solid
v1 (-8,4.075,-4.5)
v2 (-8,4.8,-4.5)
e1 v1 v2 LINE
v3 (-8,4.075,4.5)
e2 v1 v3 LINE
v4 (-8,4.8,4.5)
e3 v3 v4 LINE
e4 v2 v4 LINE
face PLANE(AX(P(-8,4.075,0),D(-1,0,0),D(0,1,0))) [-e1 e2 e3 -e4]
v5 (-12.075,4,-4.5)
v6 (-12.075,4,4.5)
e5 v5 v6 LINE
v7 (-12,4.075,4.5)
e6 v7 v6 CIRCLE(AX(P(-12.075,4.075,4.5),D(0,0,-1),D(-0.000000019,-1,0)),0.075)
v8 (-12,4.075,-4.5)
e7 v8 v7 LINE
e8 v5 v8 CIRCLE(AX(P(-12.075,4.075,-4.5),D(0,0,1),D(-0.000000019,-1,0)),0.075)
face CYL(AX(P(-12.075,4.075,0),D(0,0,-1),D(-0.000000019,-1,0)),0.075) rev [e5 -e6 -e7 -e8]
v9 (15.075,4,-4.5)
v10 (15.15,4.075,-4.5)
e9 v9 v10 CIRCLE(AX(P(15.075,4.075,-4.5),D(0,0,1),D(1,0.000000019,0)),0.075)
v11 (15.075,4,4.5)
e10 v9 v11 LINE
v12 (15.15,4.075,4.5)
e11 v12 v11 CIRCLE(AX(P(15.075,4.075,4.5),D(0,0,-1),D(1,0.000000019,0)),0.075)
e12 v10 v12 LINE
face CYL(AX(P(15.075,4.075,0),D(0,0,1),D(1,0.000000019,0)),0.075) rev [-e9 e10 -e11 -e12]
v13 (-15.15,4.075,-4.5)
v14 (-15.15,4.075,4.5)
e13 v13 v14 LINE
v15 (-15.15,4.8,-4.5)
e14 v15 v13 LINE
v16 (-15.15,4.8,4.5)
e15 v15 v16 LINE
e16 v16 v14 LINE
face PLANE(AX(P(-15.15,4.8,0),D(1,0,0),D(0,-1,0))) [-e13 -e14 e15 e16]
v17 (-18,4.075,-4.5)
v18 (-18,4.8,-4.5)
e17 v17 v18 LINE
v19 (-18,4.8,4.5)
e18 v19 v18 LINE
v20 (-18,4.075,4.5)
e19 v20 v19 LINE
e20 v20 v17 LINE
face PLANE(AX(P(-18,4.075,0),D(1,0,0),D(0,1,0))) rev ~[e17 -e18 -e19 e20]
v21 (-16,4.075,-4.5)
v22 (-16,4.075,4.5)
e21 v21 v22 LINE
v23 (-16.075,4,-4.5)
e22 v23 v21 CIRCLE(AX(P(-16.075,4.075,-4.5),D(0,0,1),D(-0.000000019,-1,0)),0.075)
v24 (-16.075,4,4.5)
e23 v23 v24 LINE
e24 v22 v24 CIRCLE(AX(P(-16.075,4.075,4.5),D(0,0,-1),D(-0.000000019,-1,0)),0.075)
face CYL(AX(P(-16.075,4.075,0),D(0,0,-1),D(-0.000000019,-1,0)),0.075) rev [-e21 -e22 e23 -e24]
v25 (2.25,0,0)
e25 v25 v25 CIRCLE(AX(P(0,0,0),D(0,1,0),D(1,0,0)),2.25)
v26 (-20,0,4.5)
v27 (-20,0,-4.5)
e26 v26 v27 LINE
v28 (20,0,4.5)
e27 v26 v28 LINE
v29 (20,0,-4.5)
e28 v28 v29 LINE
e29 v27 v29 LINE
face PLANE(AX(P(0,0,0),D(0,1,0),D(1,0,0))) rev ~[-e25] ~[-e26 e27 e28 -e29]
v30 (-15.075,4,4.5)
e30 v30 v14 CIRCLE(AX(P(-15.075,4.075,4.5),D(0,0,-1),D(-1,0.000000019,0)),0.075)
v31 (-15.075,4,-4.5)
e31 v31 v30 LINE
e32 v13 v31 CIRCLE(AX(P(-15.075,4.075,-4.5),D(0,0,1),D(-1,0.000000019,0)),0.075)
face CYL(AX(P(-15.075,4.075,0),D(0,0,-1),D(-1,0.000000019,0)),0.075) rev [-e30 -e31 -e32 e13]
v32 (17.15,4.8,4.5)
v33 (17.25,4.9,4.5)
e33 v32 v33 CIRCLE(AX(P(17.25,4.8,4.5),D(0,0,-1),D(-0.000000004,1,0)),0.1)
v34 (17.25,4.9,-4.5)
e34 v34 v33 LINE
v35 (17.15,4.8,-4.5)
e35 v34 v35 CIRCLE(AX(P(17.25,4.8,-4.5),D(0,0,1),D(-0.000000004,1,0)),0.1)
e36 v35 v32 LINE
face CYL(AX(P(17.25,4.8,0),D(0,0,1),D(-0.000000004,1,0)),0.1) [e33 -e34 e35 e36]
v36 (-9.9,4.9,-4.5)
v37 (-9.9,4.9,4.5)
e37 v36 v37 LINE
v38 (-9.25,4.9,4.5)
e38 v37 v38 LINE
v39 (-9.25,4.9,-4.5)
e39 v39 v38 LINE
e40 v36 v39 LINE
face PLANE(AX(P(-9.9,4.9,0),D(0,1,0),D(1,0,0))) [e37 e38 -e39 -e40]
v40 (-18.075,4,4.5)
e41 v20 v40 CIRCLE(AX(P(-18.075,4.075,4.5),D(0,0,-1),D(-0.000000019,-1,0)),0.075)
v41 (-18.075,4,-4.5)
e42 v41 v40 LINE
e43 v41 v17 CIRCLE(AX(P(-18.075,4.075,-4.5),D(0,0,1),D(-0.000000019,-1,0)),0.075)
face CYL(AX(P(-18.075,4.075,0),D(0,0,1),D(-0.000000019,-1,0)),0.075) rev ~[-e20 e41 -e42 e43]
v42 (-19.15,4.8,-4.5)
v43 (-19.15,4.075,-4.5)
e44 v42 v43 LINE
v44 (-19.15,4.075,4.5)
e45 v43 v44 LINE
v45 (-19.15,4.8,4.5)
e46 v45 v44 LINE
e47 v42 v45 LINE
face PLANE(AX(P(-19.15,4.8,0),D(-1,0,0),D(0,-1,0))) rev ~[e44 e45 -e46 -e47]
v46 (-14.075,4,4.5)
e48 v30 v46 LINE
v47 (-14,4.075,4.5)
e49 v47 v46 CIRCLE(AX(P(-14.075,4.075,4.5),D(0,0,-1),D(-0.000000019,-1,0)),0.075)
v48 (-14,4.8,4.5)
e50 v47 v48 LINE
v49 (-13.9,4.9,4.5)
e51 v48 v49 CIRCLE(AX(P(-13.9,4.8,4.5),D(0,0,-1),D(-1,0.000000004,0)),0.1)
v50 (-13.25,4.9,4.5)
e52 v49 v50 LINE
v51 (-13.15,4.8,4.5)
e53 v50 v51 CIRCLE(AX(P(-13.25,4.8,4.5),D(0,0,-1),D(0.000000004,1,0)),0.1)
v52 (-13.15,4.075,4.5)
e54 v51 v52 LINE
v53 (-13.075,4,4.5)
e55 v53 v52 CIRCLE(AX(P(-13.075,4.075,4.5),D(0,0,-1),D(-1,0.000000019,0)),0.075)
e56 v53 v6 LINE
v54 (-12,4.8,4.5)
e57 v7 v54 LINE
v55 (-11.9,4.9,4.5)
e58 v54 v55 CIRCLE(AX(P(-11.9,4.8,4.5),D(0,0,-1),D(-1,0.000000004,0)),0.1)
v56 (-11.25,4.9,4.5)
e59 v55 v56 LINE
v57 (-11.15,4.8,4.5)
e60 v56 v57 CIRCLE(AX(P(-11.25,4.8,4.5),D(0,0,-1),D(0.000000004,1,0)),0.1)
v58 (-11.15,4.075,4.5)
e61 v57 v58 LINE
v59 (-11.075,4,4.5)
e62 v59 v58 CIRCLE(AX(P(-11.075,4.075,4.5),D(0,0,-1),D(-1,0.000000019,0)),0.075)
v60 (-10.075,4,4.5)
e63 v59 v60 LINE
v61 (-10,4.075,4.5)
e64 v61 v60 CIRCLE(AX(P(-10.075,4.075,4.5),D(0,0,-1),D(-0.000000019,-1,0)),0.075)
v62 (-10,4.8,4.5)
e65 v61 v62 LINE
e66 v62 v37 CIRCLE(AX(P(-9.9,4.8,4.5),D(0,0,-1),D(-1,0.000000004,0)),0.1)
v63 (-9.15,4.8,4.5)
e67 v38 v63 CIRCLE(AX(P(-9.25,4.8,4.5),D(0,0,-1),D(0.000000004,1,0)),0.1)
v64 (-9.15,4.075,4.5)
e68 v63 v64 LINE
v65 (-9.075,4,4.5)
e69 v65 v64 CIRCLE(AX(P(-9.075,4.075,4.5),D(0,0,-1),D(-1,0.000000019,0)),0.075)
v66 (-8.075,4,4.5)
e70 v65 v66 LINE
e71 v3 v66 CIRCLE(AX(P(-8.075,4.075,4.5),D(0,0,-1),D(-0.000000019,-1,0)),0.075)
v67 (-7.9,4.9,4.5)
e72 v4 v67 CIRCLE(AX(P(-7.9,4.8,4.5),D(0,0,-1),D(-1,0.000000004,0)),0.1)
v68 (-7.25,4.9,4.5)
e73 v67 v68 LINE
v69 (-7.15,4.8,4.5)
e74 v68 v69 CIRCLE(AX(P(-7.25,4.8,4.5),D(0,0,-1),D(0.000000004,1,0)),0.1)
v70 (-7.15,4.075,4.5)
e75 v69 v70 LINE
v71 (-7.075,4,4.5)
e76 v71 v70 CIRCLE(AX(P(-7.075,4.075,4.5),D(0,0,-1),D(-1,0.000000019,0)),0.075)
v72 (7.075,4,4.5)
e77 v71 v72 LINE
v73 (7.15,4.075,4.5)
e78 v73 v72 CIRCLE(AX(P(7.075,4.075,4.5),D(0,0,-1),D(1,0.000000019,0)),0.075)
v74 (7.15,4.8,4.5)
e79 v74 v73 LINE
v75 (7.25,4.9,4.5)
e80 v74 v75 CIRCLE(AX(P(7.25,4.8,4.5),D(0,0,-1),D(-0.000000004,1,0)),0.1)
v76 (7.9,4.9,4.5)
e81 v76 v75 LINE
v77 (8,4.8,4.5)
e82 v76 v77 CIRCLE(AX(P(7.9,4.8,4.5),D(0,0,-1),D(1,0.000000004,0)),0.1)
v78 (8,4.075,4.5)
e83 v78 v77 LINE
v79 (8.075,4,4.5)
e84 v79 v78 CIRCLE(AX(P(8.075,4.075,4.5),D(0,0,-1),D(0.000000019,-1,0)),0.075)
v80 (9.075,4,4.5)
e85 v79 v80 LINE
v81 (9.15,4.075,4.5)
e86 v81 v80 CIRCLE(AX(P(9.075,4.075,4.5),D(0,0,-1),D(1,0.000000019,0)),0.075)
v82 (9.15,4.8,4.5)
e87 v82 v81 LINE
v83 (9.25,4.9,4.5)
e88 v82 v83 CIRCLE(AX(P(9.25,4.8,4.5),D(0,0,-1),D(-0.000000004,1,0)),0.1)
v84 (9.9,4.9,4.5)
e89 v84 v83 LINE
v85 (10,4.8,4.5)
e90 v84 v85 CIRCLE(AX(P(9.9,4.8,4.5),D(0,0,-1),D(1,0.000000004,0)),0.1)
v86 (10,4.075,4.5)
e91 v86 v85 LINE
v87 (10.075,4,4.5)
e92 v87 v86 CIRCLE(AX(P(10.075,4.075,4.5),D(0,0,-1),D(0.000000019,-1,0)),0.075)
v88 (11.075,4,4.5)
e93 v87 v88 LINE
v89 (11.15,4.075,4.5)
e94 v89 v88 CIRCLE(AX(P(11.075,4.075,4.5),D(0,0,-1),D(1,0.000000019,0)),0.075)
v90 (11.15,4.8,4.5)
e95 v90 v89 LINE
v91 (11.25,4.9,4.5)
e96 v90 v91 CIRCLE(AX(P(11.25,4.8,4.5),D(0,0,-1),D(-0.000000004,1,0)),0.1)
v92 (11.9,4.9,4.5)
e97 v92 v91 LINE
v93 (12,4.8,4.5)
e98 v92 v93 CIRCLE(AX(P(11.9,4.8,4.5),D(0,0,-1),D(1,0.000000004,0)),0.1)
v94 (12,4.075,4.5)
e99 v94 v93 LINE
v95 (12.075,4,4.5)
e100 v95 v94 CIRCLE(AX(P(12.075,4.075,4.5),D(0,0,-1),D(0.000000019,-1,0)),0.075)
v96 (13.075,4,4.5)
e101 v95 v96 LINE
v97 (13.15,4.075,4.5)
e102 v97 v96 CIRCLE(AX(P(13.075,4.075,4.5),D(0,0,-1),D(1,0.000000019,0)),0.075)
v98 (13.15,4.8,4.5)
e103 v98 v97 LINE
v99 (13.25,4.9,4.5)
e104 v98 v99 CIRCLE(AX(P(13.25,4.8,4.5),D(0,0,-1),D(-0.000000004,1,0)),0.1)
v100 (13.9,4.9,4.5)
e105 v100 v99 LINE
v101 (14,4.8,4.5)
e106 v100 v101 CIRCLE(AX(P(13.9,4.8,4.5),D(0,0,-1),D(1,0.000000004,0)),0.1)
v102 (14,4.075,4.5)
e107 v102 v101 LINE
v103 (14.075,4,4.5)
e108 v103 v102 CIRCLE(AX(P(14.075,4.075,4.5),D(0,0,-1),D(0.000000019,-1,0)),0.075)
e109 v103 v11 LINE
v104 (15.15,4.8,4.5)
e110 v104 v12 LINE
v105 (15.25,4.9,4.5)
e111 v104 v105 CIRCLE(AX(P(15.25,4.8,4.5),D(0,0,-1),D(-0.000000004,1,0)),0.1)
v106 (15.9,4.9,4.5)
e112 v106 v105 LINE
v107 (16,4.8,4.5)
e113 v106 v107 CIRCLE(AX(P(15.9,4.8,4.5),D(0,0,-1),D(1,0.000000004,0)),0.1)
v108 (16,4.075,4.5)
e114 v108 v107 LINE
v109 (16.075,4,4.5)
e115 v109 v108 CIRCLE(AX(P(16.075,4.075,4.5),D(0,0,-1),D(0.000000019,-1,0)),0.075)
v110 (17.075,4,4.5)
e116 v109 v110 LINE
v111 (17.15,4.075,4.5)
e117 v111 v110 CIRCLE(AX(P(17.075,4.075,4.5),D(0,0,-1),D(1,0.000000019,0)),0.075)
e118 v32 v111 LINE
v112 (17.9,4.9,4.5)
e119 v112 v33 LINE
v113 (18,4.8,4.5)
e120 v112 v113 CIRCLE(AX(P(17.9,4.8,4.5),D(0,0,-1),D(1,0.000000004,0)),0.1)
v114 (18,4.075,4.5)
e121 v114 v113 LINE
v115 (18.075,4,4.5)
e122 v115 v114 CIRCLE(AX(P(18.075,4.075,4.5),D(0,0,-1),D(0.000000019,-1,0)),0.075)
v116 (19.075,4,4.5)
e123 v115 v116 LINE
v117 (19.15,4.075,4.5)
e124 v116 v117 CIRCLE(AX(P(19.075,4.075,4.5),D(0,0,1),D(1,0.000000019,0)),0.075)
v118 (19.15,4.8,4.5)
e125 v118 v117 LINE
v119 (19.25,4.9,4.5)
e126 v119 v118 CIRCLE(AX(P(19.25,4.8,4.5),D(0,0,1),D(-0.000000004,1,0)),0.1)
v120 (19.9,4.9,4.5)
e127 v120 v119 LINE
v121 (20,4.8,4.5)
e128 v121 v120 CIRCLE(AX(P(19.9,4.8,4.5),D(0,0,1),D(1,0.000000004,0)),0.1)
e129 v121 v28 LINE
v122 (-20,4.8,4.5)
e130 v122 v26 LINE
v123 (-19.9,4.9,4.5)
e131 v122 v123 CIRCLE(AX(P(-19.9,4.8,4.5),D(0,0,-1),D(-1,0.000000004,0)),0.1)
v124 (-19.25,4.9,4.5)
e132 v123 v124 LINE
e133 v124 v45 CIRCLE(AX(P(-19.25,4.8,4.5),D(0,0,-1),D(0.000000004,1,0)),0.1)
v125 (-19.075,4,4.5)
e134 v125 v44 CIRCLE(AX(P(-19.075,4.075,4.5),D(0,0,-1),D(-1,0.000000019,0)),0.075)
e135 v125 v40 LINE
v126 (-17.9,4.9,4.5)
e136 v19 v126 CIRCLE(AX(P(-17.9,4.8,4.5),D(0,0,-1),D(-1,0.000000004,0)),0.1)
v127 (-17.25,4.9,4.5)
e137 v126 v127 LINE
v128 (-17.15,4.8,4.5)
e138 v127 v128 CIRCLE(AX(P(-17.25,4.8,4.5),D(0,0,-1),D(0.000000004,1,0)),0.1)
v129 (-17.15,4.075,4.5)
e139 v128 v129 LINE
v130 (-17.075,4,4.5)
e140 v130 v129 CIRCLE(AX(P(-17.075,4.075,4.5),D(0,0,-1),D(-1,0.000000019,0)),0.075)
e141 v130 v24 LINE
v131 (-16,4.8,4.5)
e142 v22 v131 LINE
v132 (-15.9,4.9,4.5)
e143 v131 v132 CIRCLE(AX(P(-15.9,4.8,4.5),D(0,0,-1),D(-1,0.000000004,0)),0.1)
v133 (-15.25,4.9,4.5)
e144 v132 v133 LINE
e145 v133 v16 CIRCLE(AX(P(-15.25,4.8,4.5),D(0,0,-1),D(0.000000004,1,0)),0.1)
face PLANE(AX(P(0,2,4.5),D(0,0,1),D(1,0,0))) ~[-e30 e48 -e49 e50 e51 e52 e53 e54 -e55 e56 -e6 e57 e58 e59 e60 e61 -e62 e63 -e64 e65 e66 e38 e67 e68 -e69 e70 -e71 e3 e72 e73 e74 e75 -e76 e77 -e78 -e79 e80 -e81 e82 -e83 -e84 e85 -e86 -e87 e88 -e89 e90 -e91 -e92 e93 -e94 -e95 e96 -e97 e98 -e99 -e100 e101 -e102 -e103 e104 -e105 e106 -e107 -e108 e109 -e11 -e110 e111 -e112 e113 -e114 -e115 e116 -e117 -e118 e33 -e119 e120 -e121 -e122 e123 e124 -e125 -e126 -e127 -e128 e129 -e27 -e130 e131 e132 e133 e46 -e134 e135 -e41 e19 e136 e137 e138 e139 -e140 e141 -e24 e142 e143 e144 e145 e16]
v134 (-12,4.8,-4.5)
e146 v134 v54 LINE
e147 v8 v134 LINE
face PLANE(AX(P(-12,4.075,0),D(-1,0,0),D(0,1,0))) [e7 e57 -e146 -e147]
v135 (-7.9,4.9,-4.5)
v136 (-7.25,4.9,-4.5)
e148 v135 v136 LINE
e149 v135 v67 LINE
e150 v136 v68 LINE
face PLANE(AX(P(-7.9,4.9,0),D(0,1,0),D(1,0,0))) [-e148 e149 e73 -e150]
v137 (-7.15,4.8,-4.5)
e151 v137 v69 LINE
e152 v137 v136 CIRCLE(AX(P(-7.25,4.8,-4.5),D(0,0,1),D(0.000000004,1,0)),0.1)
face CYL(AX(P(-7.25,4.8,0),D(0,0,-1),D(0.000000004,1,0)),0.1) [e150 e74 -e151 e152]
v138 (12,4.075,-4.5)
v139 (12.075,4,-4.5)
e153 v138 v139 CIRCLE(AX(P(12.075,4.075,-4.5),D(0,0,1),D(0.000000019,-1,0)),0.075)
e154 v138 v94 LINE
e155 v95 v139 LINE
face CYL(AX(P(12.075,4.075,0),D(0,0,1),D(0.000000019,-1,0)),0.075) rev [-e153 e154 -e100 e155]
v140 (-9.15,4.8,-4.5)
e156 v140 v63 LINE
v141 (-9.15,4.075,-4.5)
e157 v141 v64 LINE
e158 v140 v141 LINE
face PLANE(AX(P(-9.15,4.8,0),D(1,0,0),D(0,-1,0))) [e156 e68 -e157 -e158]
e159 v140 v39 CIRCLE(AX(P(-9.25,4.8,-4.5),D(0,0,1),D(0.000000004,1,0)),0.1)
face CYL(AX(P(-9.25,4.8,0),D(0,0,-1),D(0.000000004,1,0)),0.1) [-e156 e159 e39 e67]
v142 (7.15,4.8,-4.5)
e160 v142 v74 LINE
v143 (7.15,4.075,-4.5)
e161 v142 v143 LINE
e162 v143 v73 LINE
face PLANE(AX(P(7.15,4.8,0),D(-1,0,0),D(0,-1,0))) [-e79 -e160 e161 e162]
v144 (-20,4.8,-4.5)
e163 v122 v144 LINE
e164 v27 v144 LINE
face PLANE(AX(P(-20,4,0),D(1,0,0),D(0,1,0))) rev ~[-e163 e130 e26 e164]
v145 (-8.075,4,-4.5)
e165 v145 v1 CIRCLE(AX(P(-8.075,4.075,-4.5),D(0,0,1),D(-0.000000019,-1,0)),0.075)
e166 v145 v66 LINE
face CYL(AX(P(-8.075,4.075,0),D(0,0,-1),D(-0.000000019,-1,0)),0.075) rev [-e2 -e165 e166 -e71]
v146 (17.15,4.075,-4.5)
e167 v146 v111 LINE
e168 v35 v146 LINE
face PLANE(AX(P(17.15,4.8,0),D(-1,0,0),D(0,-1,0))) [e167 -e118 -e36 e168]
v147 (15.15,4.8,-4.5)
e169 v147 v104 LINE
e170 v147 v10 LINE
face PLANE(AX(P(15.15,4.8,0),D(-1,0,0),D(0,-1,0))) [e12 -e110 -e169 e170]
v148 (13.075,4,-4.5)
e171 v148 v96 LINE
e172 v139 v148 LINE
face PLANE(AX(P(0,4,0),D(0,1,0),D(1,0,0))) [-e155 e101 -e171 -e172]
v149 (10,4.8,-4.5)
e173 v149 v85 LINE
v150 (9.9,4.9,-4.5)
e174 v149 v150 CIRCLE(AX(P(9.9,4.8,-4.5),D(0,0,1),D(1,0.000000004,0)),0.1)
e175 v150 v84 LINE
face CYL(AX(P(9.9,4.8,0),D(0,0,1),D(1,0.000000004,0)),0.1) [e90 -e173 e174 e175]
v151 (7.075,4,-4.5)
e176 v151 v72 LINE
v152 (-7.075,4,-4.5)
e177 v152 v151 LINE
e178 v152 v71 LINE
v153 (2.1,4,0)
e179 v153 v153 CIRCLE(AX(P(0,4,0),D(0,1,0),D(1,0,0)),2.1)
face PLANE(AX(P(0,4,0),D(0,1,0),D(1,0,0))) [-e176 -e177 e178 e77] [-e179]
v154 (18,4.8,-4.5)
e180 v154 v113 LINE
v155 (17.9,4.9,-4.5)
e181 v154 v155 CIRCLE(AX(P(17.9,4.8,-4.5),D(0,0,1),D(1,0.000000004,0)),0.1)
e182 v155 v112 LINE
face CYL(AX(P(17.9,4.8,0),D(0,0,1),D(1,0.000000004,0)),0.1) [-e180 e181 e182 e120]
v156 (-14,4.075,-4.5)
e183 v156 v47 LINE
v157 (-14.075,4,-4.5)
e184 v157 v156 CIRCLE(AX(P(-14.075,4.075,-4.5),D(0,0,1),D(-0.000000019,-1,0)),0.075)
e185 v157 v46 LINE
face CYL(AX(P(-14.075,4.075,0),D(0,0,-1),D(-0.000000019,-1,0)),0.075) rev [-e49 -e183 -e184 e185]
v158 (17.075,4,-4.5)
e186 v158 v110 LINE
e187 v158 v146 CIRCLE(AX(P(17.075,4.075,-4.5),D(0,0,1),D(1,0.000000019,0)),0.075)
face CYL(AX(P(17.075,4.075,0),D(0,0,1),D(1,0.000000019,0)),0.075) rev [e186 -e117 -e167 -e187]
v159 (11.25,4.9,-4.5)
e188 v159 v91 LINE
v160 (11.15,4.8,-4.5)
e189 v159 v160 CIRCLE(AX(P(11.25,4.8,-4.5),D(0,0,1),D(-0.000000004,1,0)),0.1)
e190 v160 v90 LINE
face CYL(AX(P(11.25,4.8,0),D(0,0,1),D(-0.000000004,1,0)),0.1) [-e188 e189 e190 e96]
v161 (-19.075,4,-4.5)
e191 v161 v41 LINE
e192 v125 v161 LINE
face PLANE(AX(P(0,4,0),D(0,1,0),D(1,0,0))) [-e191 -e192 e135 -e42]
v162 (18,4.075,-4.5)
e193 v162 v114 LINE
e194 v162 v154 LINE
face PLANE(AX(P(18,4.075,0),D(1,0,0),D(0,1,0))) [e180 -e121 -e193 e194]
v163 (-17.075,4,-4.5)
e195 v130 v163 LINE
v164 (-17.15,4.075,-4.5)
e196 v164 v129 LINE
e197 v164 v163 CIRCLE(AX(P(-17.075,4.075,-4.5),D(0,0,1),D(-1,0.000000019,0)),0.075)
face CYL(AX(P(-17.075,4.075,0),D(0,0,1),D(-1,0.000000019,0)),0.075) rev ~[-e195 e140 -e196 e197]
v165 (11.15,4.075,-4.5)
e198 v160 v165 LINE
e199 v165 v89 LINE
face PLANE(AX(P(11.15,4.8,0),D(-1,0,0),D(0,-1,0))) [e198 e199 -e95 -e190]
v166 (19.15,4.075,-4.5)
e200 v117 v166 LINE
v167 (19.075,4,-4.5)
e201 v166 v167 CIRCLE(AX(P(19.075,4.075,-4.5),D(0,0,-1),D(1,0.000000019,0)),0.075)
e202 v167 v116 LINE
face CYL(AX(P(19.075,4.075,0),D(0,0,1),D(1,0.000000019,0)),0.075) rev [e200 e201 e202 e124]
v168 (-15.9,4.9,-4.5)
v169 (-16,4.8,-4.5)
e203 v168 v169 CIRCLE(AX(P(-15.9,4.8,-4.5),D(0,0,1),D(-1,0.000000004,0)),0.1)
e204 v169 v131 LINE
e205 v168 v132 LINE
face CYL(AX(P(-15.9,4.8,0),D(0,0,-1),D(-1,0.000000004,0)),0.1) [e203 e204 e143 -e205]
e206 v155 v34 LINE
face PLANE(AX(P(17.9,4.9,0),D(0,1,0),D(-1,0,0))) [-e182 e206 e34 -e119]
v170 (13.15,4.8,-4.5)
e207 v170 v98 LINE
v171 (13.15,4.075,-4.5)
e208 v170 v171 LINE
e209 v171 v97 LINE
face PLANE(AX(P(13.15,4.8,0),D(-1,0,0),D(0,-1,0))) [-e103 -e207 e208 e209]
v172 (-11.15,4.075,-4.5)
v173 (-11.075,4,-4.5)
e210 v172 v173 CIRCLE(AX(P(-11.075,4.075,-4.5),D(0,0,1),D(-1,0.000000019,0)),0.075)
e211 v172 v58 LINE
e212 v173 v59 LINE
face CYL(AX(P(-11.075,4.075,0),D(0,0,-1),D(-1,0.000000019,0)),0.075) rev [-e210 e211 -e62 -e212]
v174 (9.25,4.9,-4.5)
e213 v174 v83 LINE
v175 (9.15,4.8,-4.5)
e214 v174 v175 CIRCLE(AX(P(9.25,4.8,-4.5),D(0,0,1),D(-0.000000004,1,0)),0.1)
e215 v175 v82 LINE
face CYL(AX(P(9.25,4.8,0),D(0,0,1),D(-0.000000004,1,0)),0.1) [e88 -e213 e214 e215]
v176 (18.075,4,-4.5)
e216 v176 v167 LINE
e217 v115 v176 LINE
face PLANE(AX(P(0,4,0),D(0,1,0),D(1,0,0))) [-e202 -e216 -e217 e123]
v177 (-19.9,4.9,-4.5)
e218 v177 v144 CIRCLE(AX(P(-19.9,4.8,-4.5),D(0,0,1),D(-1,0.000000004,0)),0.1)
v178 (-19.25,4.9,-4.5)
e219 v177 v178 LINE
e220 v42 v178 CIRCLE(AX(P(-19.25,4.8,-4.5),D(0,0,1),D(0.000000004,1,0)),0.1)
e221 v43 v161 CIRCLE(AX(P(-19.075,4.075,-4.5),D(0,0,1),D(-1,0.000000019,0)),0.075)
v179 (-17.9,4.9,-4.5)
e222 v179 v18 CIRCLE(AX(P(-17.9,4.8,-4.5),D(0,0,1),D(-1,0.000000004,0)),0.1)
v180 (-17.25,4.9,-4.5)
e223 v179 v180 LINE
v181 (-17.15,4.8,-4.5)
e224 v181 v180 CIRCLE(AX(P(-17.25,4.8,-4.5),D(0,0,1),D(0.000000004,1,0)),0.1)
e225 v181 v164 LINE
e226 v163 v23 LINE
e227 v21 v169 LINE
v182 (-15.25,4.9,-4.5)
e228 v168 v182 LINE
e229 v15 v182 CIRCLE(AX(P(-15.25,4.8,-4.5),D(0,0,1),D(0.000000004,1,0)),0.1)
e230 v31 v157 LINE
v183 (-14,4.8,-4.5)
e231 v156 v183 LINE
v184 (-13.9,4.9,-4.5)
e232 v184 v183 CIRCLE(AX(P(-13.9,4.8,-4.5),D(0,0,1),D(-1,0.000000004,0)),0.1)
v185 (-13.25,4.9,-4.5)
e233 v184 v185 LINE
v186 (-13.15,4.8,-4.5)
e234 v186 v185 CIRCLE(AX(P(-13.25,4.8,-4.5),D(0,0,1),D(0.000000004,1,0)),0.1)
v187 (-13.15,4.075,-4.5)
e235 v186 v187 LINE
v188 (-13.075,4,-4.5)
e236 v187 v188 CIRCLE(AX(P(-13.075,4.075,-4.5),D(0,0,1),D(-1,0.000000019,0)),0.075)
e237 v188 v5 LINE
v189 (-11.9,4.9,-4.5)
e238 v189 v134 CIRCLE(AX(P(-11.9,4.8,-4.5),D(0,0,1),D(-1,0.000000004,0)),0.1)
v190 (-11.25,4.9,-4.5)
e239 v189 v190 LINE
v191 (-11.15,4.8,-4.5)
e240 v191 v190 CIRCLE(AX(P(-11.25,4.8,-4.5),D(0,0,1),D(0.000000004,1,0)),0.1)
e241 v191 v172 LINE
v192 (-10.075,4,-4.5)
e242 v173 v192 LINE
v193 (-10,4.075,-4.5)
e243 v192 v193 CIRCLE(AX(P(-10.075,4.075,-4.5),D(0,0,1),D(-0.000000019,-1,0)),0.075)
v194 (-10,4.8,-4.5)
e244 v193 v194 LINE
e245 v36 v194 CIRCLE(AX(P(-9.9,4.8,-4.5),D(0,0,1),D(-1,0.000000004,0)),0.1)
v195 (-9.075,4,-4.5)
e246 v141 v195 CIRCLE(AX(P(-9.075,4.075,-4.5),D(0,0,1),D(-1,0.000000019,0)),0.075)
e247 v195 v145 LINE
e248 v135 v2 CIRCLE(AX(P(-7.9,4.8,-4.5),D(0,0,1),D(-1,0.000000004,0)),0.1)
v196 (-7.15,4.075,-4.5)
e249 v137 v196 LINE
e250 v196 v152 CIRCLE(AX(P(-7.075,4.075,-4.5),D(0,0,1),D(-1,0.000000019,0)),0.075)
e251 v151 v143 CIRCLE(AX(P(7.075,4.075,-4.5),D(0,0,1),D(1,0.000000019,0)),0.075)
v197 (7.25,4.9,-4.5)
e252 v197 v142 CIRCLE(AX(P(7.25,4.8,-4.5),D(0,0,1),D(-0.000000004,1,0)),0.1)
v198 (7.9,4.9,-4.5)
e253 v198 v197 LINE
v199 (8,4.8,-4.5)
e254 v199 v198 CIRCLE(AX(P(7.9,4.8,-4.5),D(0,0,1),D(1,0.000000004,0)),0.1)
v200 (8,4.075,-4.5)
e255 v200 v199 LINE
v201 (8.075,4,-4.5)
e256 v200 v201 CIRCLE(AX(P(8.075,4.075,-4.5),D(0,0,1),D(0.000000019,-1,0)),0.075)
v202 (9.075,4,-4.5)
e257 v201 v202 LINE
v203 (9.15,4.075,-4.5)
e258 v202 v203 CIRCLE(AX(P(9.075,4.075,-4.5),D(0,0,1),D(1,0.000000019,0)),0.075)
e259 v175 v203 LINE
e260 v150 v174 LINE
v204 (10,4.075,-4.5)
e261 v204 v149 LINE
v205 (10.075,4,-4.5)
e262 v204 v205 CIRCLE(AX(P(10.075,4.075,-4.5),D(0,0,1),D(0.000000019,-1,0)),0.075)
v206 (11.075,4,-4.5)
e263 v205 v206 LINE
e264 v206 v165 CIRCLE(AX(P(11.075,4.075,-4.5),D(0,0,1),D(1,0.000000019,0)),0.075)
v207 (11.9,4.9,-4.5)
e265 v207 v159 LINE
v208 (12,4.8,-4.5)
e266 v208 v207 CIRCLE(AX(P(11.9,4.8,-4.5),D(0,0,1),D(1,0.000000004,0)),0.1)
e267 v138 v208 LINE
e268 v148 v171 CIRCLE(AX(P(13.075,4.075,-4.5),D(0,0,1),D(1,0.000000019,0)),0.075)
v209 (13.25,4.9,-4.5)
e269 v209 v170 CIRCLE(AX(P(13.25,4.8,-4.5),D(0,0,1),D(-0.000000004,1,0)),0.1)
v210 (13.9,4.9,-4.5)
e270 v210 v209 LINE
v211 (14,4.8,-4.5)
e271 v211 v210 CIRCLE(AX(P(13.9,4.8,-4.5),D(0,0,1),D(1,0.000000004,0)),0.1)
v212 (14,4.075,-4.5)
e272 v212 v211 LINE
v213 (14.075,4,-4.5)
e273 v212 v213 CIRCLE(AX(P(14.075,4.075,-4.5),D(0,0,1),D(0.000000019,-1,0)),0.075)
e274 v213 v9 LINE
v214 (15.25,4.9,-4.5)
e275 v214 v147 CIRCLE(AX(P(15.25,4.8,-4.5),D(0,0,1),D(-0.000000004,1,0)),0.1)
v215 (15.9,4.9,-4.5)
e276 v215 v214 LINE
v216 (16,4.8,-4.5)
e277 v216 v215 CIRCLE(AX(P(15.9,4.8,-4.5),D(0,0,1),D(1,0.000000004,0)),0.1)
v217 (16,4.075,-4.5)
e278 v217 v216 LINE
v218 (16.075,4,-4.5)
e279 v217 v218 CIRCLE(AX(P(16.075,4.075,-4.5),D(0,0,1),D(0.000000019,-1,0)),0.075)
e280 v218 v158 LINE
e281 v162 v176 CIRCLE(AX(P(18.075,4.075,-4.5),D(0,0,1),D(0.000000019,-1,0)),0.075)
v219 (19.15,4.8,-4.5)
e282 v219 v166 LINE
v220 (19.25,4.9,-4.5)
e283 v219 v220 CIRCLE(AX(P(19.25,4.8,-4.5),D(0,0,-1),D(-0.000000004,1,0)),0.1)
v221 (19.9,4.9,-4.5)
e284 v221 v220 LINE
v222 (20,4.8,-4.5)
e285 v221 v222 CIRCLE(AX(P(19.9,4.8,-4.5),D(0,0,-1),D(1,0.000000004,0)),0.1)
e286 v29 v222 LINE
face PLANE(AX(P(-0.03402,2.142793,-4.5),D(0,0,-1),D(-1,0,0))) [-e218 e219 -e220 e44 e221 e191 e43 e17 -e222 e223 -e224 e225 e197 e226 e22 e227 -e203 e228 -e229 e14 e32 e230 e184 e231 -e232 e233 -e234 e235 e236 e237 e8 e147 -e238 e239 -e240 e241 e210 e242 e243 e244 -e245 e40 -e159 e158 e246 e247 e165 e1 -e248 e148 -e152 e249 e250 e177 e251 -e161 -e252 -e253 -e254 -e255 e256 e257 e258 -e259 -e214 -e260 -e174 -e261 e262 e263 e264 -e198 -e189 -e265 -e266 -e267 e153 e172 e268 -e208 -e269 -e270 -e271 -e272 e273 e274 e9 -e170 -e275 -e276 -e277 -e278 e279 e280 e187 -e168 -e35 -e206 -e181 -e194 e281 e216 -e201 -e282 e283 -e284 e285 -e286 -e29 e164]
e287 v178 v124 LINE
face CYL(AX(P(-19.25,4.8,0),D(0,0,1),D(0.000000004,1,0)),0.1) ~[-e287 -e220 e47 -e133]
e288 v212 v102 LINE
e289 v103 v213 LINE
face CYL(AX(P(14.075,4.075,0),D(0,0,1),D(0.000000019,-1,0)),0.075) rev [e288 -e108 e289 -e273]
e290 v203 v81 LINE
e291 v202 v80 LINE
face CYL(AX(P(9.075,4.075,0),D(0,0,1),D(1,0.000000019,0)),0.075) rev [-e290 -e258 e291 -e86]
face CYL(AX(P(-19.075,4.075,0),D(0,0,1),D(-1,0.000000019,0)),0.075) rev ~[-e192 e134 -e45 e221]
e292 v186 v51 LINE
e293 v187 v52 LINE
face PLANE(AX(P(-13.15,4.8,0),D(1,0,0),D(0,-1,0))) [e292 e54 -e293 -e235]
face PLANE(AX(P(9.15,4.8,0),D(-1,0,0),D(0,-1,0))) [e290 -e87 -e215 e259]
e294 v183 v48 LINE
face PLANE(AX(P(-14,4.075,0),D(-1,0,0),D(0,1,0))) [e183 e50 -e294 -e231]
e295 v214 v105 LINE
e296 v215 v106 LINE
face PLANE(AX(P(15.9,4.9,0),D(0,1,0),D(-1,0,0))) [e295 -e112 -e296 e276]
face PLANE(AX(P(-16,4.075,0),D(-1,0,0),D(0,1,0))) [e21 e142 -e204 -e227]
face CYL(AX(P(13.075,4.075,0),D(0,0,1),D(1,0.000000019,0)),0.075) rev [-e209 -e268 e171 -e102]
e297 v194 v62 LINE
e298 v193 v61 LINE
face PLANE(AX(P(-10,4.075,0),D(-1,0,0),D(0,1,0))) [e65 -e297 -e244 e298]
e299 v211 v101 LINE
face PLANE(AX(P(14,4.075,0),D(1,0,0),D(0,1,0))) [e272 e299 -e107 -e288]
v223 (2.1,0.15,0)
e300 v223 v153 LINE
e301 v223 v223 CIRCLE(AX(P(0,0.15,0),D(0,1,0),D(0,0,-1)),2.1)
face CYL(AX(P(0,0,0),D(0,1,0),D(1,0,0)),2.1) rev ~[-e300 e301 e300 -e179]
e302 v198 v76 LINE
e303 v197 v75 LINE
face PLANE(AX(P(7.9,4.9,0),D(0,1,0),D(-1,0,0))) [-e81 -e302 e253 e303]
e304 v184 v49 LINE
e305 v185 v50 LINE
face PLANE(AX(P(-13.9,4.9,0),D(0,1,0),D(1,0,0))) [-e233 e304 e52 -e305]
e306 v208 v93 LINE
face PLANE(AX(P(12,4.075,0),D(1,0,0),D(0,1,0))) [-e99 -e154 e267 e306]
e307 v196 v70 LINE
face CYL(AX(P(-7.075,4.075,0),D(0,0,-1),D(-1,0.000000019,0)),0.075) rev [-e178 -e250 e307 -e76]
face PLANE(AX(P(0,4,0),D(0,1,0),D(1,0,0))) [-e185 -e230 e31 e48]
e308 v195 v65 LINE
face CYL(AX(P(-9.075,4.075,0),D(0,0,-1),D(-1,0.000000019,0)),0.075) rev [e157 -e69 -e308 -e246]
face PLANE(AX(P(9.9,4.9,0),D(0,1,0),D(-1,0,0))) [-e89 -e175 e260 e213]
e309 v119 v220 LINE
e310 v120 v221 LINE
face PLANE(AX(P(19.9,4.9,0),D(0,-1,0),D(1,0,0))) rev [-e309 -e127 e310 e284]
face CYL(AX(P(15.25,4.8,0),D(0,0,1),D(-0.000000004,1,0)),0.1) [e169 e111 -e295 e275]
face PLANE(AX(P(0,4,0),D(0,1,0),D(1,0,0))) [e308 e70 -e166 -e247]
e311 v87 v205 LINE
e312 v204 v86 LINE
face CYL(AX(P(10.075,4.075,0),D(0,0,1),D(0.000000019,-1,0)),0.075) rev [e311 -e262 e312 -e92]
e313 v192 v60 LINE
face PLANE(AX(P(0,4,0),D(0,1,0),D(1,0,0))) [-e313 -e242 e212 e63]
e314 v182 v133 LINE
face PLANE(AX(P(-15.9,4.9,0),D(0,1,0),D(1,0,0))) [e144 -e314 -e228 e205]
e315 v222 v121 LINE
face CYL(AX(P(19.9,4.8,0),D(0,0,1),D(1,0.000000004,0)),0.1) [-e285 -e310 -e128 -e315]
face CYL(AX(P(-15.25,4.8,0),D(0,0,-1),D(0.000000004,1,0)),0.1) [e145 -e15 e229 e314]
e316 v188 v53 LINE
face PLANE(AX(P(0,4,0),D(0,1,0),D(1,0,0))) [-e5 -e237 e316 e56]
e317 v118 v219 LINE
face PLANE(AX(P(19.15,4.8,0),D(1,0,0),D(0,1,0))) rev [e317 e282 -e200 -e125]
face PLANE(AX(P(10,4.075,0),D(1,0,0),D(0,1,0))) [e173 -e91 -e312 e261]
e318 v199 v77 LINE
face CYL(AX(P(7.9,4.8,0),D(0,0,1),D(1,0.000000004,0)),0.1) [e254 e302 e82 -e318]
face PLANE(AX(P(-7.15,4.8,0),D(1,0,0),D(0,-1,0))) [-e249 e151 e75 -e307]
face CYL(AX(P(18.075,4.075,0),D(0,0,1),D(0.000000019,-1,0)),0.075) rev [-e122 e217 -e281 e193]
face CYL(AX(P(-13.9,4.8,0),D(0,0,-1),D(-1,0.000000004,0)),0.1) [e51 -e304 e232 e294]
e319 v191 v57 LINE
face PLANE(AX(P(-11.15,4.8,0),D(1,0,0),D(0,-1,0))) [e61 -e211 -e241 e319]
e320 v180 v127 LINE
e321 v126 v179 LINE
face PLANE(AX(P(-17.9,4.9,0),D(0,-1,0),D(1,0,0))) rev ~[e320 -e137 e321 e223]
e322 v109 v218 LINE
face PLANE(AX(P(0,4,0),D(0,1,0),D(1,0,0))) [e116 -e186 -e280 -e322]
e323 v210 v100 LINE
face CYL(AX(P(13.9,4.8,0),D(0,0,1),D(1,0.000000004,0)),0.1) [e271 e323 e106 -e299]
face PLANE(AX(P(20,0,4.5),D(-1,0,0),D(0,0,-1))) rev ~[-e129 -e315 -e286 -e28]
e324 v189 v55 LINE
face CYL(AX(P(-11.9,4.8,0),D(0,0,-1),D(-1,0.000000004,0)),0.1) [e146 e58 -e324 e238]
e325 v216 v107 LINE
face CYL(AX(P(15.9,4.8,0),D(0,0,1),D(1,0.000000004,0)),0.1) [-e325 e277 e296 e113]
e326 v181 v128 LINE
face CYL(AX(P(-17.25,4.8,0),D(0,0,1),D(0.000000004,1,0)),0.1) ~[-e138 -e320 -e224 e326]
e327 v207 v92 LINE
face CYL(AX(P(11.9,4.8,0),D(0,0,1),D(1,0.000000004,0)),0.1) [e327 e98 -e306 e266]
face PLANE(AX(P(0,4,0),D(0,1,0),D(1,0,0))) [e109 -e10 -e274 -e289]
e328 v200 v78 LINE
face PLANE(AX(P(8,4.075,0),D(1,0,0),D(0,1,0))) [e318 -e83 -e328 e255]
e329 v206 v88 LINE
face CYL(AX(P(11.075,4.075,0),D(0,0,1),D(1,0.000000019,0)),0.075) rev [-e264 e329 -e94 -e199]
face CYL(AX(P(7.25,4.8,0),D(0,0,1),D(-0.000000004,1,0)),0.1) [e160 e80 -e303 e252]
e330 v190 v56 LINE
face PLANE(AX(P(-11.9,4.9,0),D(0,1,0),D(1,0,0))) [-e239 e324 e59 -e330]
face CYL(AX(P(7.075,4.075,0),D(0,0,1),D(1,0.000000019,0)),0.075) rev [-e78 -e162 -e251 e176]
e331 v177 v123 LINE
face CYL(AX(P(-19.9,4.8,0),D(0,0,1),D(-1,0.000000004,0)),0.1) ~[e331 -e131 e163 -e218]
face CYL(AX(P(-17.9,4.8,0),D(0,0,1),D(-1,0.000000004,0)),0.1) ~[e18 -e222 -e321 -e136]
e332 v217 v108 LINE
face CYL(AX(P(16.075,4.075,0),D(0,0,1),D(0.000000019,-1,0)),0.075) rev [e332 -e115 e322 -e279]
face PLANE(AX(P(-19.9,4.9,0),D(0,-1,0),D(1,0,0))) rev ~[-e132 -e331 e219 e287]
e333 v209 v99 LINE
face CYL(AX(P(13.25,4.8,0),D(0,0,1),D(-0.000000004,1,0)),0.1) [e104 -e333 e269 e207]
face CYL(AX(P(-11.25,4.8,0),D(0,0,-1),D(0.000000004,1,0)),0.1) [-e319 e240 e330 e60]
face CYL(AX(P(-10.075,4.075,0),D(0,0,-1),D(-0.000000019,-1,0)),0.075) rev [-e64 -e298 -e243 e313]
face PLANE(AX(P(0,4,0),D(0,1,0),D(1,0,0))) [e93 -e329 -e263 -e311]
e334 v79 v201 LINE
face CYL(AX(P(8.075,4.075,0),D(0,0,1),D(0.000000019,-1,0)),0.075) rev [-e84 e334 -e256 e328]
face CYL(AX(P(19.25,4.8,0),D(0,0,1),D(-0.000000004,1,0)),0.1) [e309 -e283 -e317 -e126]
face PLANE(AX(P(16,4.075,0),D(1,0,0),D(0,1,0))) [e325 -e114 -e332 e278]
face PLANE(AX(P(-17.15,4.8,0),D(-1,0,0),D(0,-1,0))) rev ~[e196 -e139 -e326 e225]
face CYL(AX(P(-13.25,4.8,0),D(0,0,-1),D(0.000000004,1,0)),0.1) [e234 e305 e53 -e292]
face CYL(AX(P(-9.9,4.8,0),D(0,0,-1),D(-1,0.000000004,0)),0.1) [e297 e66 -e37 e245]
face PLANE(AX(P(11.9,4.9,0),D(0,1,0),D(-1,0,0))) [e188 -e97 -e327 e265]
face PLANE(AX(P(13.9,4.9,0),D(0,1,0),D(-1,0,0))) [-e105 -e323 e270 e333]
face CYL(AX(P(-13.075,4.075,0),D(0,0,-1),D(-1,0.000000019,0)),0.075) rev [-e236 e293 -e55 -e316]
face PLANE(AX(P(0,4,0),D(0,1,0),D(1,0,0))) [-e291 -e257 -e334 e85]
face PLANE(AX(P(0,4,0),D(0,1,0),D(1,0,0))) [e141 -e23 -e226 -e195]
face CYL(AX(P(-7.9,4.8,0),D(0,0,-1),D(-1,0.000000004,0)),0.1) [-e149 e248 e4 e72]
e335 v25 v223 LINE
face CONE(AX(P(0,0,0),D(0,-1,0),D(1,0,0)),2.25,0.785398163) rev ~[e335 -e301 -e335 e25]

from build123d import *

# Parameters (mm, degrees)
BASES_W                                = 40
BASES_H                                = 9
BASE_DEPTH                             = 4
TOOTHPROFILENESTWALL_REACH             = 22.887
TOOTHPROFILENESTWALL_DIRECTION_2_REACH = 22.887
TPNWLP_COUNT                           = 7
TPNWLP_PITCH                           = 2
TPFILLETCUTS_W                         = 0.075
TPFILLETCUTS_H                         = 0.075
TPFILLETCUT_DEPTH                      = 22.148655395
TPNWSETHM_COPY_1_REACH                 = 22.887
TPNWSETHM_COPY_2_REACH                 = 22.887
TPNWSETHM_COPY_3_REACH                 = 22.887
TPNWSETHM_COPY_4_REACH                 = 22.887
TPNWSETHM_COPY_5_REACH                 = 22.887
TPNWSETHM_COPY_6_REACH                 = 22.887
TPNWSETHM_COPY_7_REACH                 = 22.887
TPNWSETHM_COPY_8_REACH                 = 22.887
TPNWSETHM_COPY_9_REACH                 = 22.887
TPNWSETHM_COPY_10_REACH                = 22.887
TPNWSETHM_COPY_11_REACH                = 22.887
TPNWSETHM_COPY_12_REACH                = 22.887
M4_CLEARANCE_HOLE1_D                   = 4.2
M4_CLEARANCE_HOLE1_CSINK_D             = 4.5
M4_CLEARANCE_HOLE1_CSINK_ANGLE         = 90


with BuildPart() as part:
    # BaseS → Base (new body)
    with BuildSketch(Plane(origin=(0, 0, 0), x_dir=(1, 0, 0), z_dir=(0, 1, 0))):
        Rectangle(BASES_W, BASES_H)
    extrude(amount=BASE_DEPTH)

    # ToothProfileNestWall: up to this face of the body (flat: up to its plane)
    toothprofilenestwall_end = Plane(part.part.faces().sort_by_distance((0, 2, 4.5))[0])
    # ToothProfileNestWallS → ToothProfileNestWall (add, up to the picked face)
    with BuildSketch(Plane.XY, mode=Mode.PRIVATE) as toothprofilenestwall_sk1:
        with BuildLine():
            Line((-19.075, 4), (-20.075, 4))
            ThreePointArc((-20.075, 4), (-20.021966991, 4.021966991), (-20, 4.075))
            Line((-20, 4.075), (-20, 4.8))
            ThreePointArc((-20, 4.8), (-19.970710678, 4.870710678), (-19.9, 4.9))
            Line((-19.9, 4.9), (-19.25, 4.9))
            ThreePointArc((-19.25, 4.9), (-19.179289322, 4.870710678), (-19.15, 4.8))
            Line((-19.15, 4.8), (-19.15, 4.075))
            ThreePointArc((-19.15, 4.075), (-19.128033009, 4.021966991), (-19.075, 4))
        make_face()
    toothprofilenestwall_tool1 = split(extrude(toothprofilenestwall_sk1.sketch, amount=TOOTHPROFILENESTWALL_REACH, mode=Mode.PRIVATE), bisect_by=toothprofilenestwall_end, keep=Keep.BOTH, mode=Mode.PRIVATE)
    toothprofilenestwall = toothprofilenestwall_tool1.solids().sort_by(Axis((-19.575, 4.446224, 0), (0, 0, 1)))[0]
    add(toothprofilenestwall)

    # ToothProfileNestWall direction 2: up to this face of the body (flat: up to its plane)
    toothprofilenestwall_direction_2_end = Plane(part.part.faces().sort_by_distance((0, 2, -4.5))[0])
    # ToothProfileNestWallS → ToothProfileNestWall direction 2 (add, up to the picked face)
    with BuildSketch(Plane.XY, mode=Mode.PRIVATE) as toothprofilenestwall_direction_2_sk1:
        with BuildLine():
            Line((-19.075, 4), (-20.075, 4))
            ThreePointArc((-20.075, 4), (-20.021966991, 4.021966991), (-20, 4.075))
            Line((-20, 4.075), (-20, 4.8))
            ThreePointArc((-20, 4.8), (-19.970710678, 4.870710678), (-19.9, 4.9))
            Line((-19.9, 4.9), (-19.25, 4.9))
            ThreePointArc((-19.25, 4.9), (-19.179289322, 4.870710678), (-19.15, 4.8))
            Line((-19.15, 4.8), (-19.15, 4.075))
            ThreePointArc((-19.15, 4.075), (-19.128033009, 4.021966991), (-19.075, 4))
        make_face()
    toothprofilenestwall_direction_2_tool1 = split(extrude(toothprofilenestwall_direction_2_sk1.sketch, amount=-TOOTHPROFILENESTWALL_DIRECTION_2_REACH, mode=Mode.PRIVATE), bisect_by=toothprofilenestwall_direction_2_end, keep=Keep.BOTH, mode=Mode.PRIVATE)
    toothprofilenestwall_direction_2 = toothprofilenestwall_direction_2_tool1.solids().sort_by(Axis((-19.575, 4.446224, 0), (0, 0, -1)))[0]
    add(toothprofilenestwall_direction_2)

    # TPNWLP: ToothProfileNestWall, ToothProfileNestWall direction 2 ×7
    with Locations(*[(i * TPNWLP_PITCH, 0, 0) for i in range(1, TPNWLP_COUNT)]):
        add(toothprofilenestwall)
        add(toothprofilenestwall_direction_2)

    # TPFilletCutS → TPFilletCut (cut, symmetric)
    with BuildSketch(Plane.XY):
        with Locations((-20.0375, 4.0375)):
            Rectangle(TPFILLETCUTS_W, TPFILLETCUTS_H)
    tpfilletcut = extrude(amount=TPFILLETCUT_DEPTH, both=True, mode=Mode.SUBTRACT)

    # TPNWSetHM: ToothProfileNestWall, ToothProfileNestWall direction 2, TPFilletCut across plane
    add(toothprofilenestwall.mirror(Plane(origin=(0, 0, 0), x_dir=(0, 0, 1), z_dir=(1, 0, 0))))
    add(toothprofilenestwall_direction_2.mirror(Plane(origin=(0, 0, 0), x_dir=(0, 0, 1), z_dir=(1, 0, 0))))
    add(tpfilletcut.mirror(Plane(origin=(0, 0, 0), x_dir=(0, 0, 1), z_dir=(1, 0, 0))), mode=Mode.SUBTRACT)

    # TPNWSetHM copy 1: up to this face of the body (flat: up to its plane)
    tpnwsethm_copy_1_end = Plane(part.part.faces().sort_by_distance((-2, 2, 4.5))[0])
    # TPNWSetHM copy 1 sketch → TPNWSetHM copy 1 (add, up to the picked face)
    with BuildSketch(Plane(origin=(-2, 0, 0), x_dir=(-1, 0, 0), z_dir=(0, 0, 1)), mode=Mode.PRIVATE) as tpnwsethm_copy_1_sk1:
        with BuildLine():
            Line((-19.075, -4), (-20.075, -4))
            ThreePointArc((-20.075, -4), (-20.021966991, -4.021966991), (-20, -4.075))
            Line((-20, -4.075), (-20, -4.8))
            ThreePointArc((-20, -4.8), (-19.970710678, -4.870710678), (-19.9, -4.9))
            Line((-19.9, -4.9), (-19.25, -4.9))
            ThreePointArc((-19.25, -4.9), (-19.179289322, -4.870710678), (-19.15, -4.8))
            Line((-19.15, -4.8), (-19.15, -4.075))
            ThreePointArc((-19.15, -4.075), (-19.128033009, -4.021966991), (-19.075, -4))
        make_face()
    tpnwsethm_copy_1_tool1 = split(extrude(tpnwsethm_copy_1_sk1.sketch, amount=TPNWSETHM_COPY_1_REACH, mode=Mode.PRIVATE), bisect_by=tpnwsethm_copy_1_end, keep=Keep.BOTH, mode=Mode.PRIVATE)
    add(tpnwsethm_copy_1_tool1.solids().sort_by(Axis((17.575, 4.446224, 0), (0, 0, 1)))[0])

    # TPNWSetHM copy 2: up to this face of the body (flat: up to its plane)
    tpnwsethm_copy_2_end = Plane(part.part.faces().sort_by_distance((-4, 2, 4.5))[0])
    # TPNWSetHM copy 2 sketch → TPNWSetHM copy 2 (add, up to the picked face)
    with BuildSketch(Plane(origin=(-4, 0, 0), x_dir=(-1, 0, 0), z_dir=(0, 0, 1)), mode=Mode.PRIVATE) as tpnwsethm_copy_2_sk1:
        with BuildLine():
            Line((-19.075, -4), (-20.075, -4))
            ThreePointArc((-20.075, -4), (-20.021966991, -4.021966991), (-20, -4.075))
            Line((-20, -4.075), (-20, -4.8))
            ThreePointArc((-20, -4.8), (-19.970710678, -4.870710678), (-19.9, -4.9))
            Line((-19.9, -4.9), (-19.25, -4.9))
            ThreePointArc((-19.25, -4.9), (-19.179289322, -4.870710678), (-19.15, -4.8))
            Line((-19.15, -4.8), (-19.15, -4.075))
            ThreePointArc((-19.15, -4.075), (-19.128033009, -4.021966991), (-19.075, -4))
        make_face()
    tpnwsethm_copy_2_tool1 = split(extrude(tpnwsethm_copy_2_sk1.sketch, amount=TPNWSETHM_COPY_2_REACH, mode=Mode.PRIVATE), bisect_by=tpnwsethm_copy_2_end, keep=Keep.BOTH, mode=Mode.PRIVATE)
    add(tpnwsethm_copy_2_tool1.solids().sort_by(Axis((15.575, 4.446224, 0), (0, 0, 1)))[0])

    # TPNWSetHM copy 3: up to this face of the body (flat: up to its plane)
    tpnwsethm_copy_3_end = Plane(part.part.faces().sort_by_distance((-6, 2, 4.5))[0])
    # TPNWSetHM copy 3 sketch → TPNWSetHM copy 3 (add, up to the picked face)
    with BuildSketch(Plane(origin=(-6, 0, 0), x_dir=(-1, 0, 0), z_dir=(0, 0, 1)), mode=Mode.PRIVATE) as tpnwsethm_copy_3_sk1:
        with BuildLine():
            Line((-19.075, -4), (-20.075, -4))
            ThreePointArc((-20.075, -4), (-20.021966991, -4.021966991), (-20, -4.075))
            Line((-20, -4.075), (-20, -4.8))
            ThreePointArc((-20, -4.8), (-19.970710678, -4.870710678), (-19.9, -4.9))
            Line((-19.9, -4.9), (-19.25, -4.9))
            ThreePointArc((-19.25, -4.9), (-19.179289322, -4.870710678), (-19.15, -4.8))
            Line((-19.15, -4.8), (-19.15, -4.075))
            ThreePointArc((-19.15, -4.075), (-19.128033009, -4.021966991), (-19.075, -4))
        make_face()
    tpnwsethm_copy_3_tool1 = split(extrude(tpnwsethm_copy_3_sk1.sketch, amount=TPNWSETHM_COPY_3_REACH, mode=Mode.PRIVATE), bisect_by=tpnwsethm_copy_3_end, keep=Keep.BOTH, mode=Mode.PRIVATE)
    add(tpnwsethm_copy_3_tool1.solids().sort_by(Axis((13.575, 4.446224, 0), (0, 0, 1)))[0])

    # TPNWSetHM copy 4: up to this face of the body (flat: up to its plane)
    tpnwsethm_copy_4_end = Plane(part.part.faces().sort_by_distance((-8, 2, 4.5))[0])
    # TPNWSetHM copy 4 sketch → TPNWSetHM copy 4 (add, up to the picked face)
    with BuildSketch(Plane(origin=(-8, 0, 0), x_dir=(-1, 0, 0), z_dir=(0, 0, 1)), mode=Mode.PRIVATE) as tpnwsethm_copy_4_sk1:
        with BuildLine():
            Line((-19.075, -4), (-20.075, -4))
            ThreePointArc((-20.075, -4), (-20.021966991, -4.021966991), (-20, -4.075))
            Line((-20, -4.075), (-20, -4.8))
            ThreePointArc((-20, -4.8), (-19.970710678, -4.870710678), (-19.9, -4.9))
            Line((-19.9, -4.9), (-19.25, -4.9))
            ThreePointArc((-19.25, -4.9), (-19.179289322, -4.870710678), (-19.15, -4.8))
            Line((-19.15, -4.8), (-19.15, -4.075))
            ThreePointArc((-19.15, -4.075), (-19.128033009, -4.021966991), (-19.075, -4))
        make_face()
    tpnwsethm_copy_4_tool1 = split(extrude(tpnwsethm_copy_4_sk1.sketch, amount=TPNWSETHM_COPY_4_REACH, mode=Mode.PRIVATE), bisect_by=tpnwsethm_copy_4_end, keep=Keep.BOTH, mode=Mode.PRIVATE)
    add(tpnwsethm_copy_4_tool1.solids().sort_by(Axis((11.575, 4.446224, 0), (0, 0, 1)))[0])

    # TPNWSetHM copy 5: up to this face of the body (flat: up to its plane)
    tpnwsethm_copy_5_end = Plane(part.part.faces().sort_by_distance((-10, 2, 4.5))[0])
    # TPNWSetHM copy 5 sketch → TPNWSetHM copy 5 (add, up to the picked face)
    with BuildSketch(Plane(origin=(-10, 0, 0), x_dir=(-1, 0, 0), z_dir=(0, 0, 1)), mode=Mode.PRIVATE) as tpnwsethm_copy_5_sk1:
        with BuildLine():
            Line((-19.075, -4), (-20.075, -4))
            ThreePointArc((-20.075, -4), (-20.021966991, -4.021966991), (-20, -4.075))
            Line((-20, -4.075), (-20, -4.8))
            ThreePointArc((-20, -4.8), (-19.970710678, -4.870710678), (-19.9, -4.9))
            Line((-19.9, -4.9), (-19.25, -4.9))
            ThreePointArc((-19.25, -4.9), (-19.179289322, -4.870710678), (-19.15, -4.8))
            Line((-19.15, -4.8), (-19.15, -4.075))
            ThreePointArc((-19.15, -4.075), (-19.128033009, -4.021966991), (-19.075, -4))
        make_face()
    tpnwsethm_copy_5_tool1 = split(extrude(tpnwsethm_copy_5_sk1.sketch, amount=TPNWSETHM_COPY_5_REACH, mode=Mode.PRIVATE), bisect_by=tpnwsethm_copy_5_end, keep=Keep.BOTH, mode=Mode.PRIVATE)
    add(tpnwsethm_copy_5_tool1.solids().sort_by(Axis((9.575, 4.446224, 0), (0, 0, 1)))[0])

    # TPNWSetHM copy 6: up to this face of the body (flat: up to its plane)
    tpnwsethm_copy_6_end = Plane(part.part.faces().sort_by_distance((-12, 2, 4.5))[0])
    # TPNWSetHM copy 6 sketch → TPNWSetHM copy 6 (add, up to the picked face)
    with BuildSketch(Plane(origin=(-12, 0, 0), x_dir=(-1, 0, 0), z_dir=(0, 0, 1)), mode=Mode.PRIVATE) as tpnwsethm_copy_6_sk1:
        with BuildLine():
            Line((-19.075, -4), (-20.075, -4))
            ThreePointArc((-20.075, -4), (-20.021966991, -4.021966991), (-20, -4.075))
            Line((-20, -4.075), (-20, -4.8))
            ThreePointArc((-20, -4.8), (-19.970710678, -4.870710678), (-19.9, -4.9))
            Line((-19.9, -4.9), (-19.25, -4.9))
            ThreePointArc((-19.25, -4.9), (-19.179289322, -4.870710678), (-19.15, -4.8))
            Line((-19.15, -4.8), (-19.15, -4.075))
            ThreePointArc((-19.15, -4.075), (-19.128033009, -4.021966991), (-19.075, -4))
        make_face()
    tpnwsethm_copy_6_tool1 = split(extrude(tpnwsethm_copy_6_sk1.sketch, amount=TPNWSETHM_COPY_6_REACH, mode=Mode.PRIVATE), bisect_by=tpnwsethm_copy_6_end, keep=Keep.BOTH, mode=Mode.PRIVATE)
    add(tpnwsethm_copy_6_tool1.solids().sort_by(Axis((7.575, 4.446224, 0), (0, 0, 1)))[0])

    # TPNWSetHM copy 7: up to this face of the body (flat: up to its plane)
    tpnwsethm_copy_7_end = Plane(part.part.faces().sort_by_distance((-2, 2, -4.5))[0])
    # TPNWSetHM copy 7 sketch → TPNWSetHM copy 7 (add, up to the picked face)
    with BuildSketch(Plane(origin=(-2, 0, 0), x_dir=(-1, 0, 0), z_dir=(0, 0, 1)), mode=Mode.PRIVATE) as tpnwsethm_copy_7_sk1:
        with BuildLine():
            Line((-19.075, -4), (-20.075, -4))
            ThreePointArc((-20.075, -4), (-20.021966991, -4.021966991), (-20, -4.075))
            Line((-20, -4.075), (-20, -4.8))
            ThreePointArc((-20, -4.8), (-19.970710678, -4.870710678), (-19.9, -4.9))
            Line((-19.9, -4.9), (-19.25, -4.9))
            ThreePointArc((-19.25, -4.9), (-19.179289322, -4.870710678), (-19.15, -4.8))
            Line((-19.15, -4.8), (-19.15, -4.075))
            ThreePointArc((-19.15, -4.075), (-19.128033009, -4.021966991), (-19.075, -4))
        make_face()
    tpnwsethm_copy_7_tool1 = split(extrude(tpnwsethm_copy_7_sk1.sketch, amount=-TPNWSETHM_COPY_7_REACH, mode=Mode.PRIVATE), bisect_by=tpnwsethm_copy_7_end, keep=Keep.BOTH, mode=Mode.PRIVATE)
    add(tpnwsethm_copy_7_tool1.solids().sort_by(Axis((17.575, 4.446224, 0), (0, 0, -1)))[0])

    # TPNWSetHM copy 8: up to this face of the body (flat: up to its plane)
    tpnwsethm_copy_8_end = Plane(part.part.faces().sort_by_distance((-4, 2, -4.5))[0])
    # TPNWSetHM copy 8 sketch → TPNWSetHM copy 8 (add, up to the picked face)
    with BuildSketch(Plane(origin=(-4, 0, 0), x_dir=(-1, 0, 0), z_dir=(0, 0, 1)), mode=Mode.PRIVATE) as tpnwsethm_copy_8_sk1:
        with BuildLine():
            Line((-19.075, -4), (-20.075, -4))
            ThreePointArc((-20.075, -4), (-20.021966991, -4.021966991), (-20, -4.075))
            Line((-20, -4.075), (-20, -4.8))
            ThreePointArc((-20, -4.8), (-19.970710678, -4.870710678), (-19.9, -4.9))
            Line((-19.9, -4.9), (-19.25, -4.9))
            ThreePointArc((-19.25, -4.9), (-19.179289322, -4.870710678), (-19.15, -4.8))
            Line((-19.15, -4.8), (-19.15, -4.075))
            ThreePointArc((-19.15, -4.075), (-19.128033009, -4.021966991), (-19.075, -4))
        make_face()
    tpnwsethm_copy_8_tool1 = split(extrude(tpnwsethm_copy_8_sk1.sketch, amount=-TPNWSETHM_COPY_8_REACH, mode=Mode.PRIVATE), bisect_by=tpnwsethm_copy_8_end, keep=Keep.BOTH, mode=Mode.PRIVATE)
    add(tpnwsethm_copy_8_tool1.solids().sort_by(Axis((15.575, 4.446224, 0), (0, 0, -1)))[0])

    # TPNWSetHM copy 9: up to this face of the body (flat: up to its plane)
    tpnwsethm_copy_9_end = Plane(part.part.faces().sort_by_distance((-6, 2, -4.5))[0])
    # TPNWSetHM copy 9 sketch → TPNWSetHM copy 9 (add, up to the picked face)
    with BuildSketch(Plane(origin=(-6, 0, 0), x_dir=(-1, 0, 0), z_dir=(0, 0, 1)), mode=Mode.PRIVATE) as tpnwsethm_copy_9_sk1:
        with BuildLine():
            Line((-19.075, -4), (-20.075, -4))
            ThreePointArc((-20.075, -4), (-20.021966991, -4.021966991), (-20, -4.075))
            Line((-20, -4.075), (-20, -4.8))
            ThreePointArc((-20, -4.8), (-19.970710678, -4.870710678), (-19.9, -4.9))
            Line((-19.9, -4.9), (-19.25, -4.9))
            ThreePointArc((-19.25, -4.9), (-19.179289322, -4.870710678), (-19.15, -4.8))
            Line((-19.15, -4.8), (-19.15, -4.075))
            ThreePointArc((-19.15, -4.075), (-19.128033009, -4.021966991), (-19.075, -4))
        make_face()
    tpnwsethm_copy_9_tool1 = split(extrude(tpnwsethm_copy_9_sk1.sketch, amount=-TPNWSETHM_COPY_9_REACH, mode=Mode.PRIVATE), bisect_by=tpnwsethm_copy_9_end, keep=Keep.BOTH, mode=Mode.PRIVATE)
    add(tpnwsethm_copy_9_tool1.solids().sort_by(Axis((13.575, 4.446224, 0), (0, 0, -1)))[0])

    # TPNWSetHM copy 10: up to this face of the body (flat: up to its plane)
    tpnwsethm_copy_10_end = Plane(part.part.faces().sort_by_distance((-8, 2, -4.5))[0])
    # TPNWSetHM copy 10 sketch → TPNWSetHM copy 10 (add, up to the picked face)
    with BuildSketch(Plane(origin=(-8, 0, 0), x_dir=(-1, 0, 0), z_dir=(0, 0, 1)), mode=Mode.PRIVATE) as tpnwsethm_copy_10_sk1:
        with BuildLine():
            Line((-19.075, -4), (-20.075, -4))
            ThreePointArc((-20.075, -4), (-20.021966991, -4.021966991), (-20, -4.075))
            Line((-20, -4.075), (-20, -4.8))
            ThreePointArc((-20, -4.8), (-19.970710678, -4.870710678), (-19.9, -4.9))
            Line((-19.9, -4.9), (-19.25, -4.9))
            ThreePointArc((-19.25, -4.9), (-19.179289322, -4.870710678), (-19.15, -4.8))
            Line((-19.15, -4.8), (-19.15, -4.075))
            ThreePointArc((-19.15, -4.075), (-19.128033009, -4.021966991), (-19.075, -4))
        make_face()
    tpnwsethm_copy_10_tool1 = split(extrude(tpnwsethm_copy_10_sk1.sketch, amount=-TPNWSETHM_COPY_10_REACH, mode=Mode.PRIVATE), bisect_by=tpnwsethm_copy_10_end, keep=Keep.BOTH, mode=Mode.PRIVATE)
    add(tpnwsethm_copy_10_tool1.solids().sort_by(Axis((11.575, 4.446224, 0), (0, 0, -1)))[0])

    # TPNWSetHM copy 11: up to this face of the body (flat: up to its plane)
    tpnwsethm_copy_11_end = Plane(part.part.faces().sort_by_distance((-10, 2, -4.5))[0])
    # TPNWSetHM copy 11 sketch → TPNWSetHM copy 11 (add, up to the picked face)
    with BuildSketch(Plane(origin=(-10, 0, 0), x_dir=(-1, 0, 0), z_dir=(0, 0, 1)), mode=Mode.PRIVATE) as tpnwsethm_copy_11_sk1:
        with BuildLine():
            Line((-19.075, -4), (-20.075, -4))
            ThreePointArc((-20.075, -4), (-20.021966991, -4.021966991), (-20, -4.075))
            Line((-20, -4.075), (-20, -4.8))
            ThreePointArc((-20, -4.8), (-19.970710678, -4.870710678), (-19.9, -4.9))
            Line((-19.9, -4.9), (-19.25, -4.9))
            ThreePointArc((-19.25, -4.9), (-19.179289322, -4.870710678), (-19.15, -4.8))
            Line((-19.15, -4.8), (-19.15, -4.075))
            ThreePointArc((-19.15, -4.075), (-19.128033009, -4.021966991), (-19.075, -4))
        make_face()
    tpnwsethm_copy_11_tool1 = split(extrude(tpnwsethm_copy_11_sk1.sketch, amount=-TPNWSETHM_COPY_11_REACH, mode=Mode.PRIVATE), bisect_by=tpnwsethm_copy_11_end, keep=Keep.BOTH, mode=Mode.PRIVATE)
    add(tpnwsethm_copy_11_tool1.solids().sort_by(Axis((9.575, 4.446224, 0), (0, 0, -1)))[0])

    # TPNWSetHM copy 12: up to this face of the body (flat: up to its plane)
    tpnwsethm_copy_12_end = Plane(part.part.faces().sort_by_distance((-12, 2, -4.5))[0])
    # TPNWSetHM copy 12 sketch → TPNWSetHM copy 12 (add, up to the picked face)
    with BuildSketch(Plane(origin=(-12, 0, 0), x_dir=(-1, 0, 0), z_dir=(0, 0, 1)), mode=Mode.PRIVATE) as tpnwsethm_copy_12_sk1:
        with BuildLine():
            Line((-19.075, -4), (-20.075, -4))
            ThreePointArc((-20.075, -4), (-20.021966991, -4.021966991), (-20, -4.075))
            Line((-20, -4.075), (-20, -4.8))
            ThreePointArc((-20, -4.8), (-19.970710678, -4.870710678), (-19.9, -4.9))
            Line((-19.9, -4.9), (-19.25, -4.9))
            ThreePointArc((-19.25, -4.9), (-19.179289322, -4.870710678), (-19.15, -4.8))
            Line((-19.15, -4.8), (-19.15, -4.075))
            ThreePointArc((-19.15, -4.075), (-19.128033009, -4.021966991), (-19.075, -4))
        make_face()
    tpnwsethm_copy_12_tool1 = split(extrude(tpnwsethm_copy_12_sk1.sketch, amount=-TPNWSETHM_COPY_12_REACH, mode=Mode.PRIVATE), bisect_by=tpnwsethm_copy_12_end, keep=Keep.BOTH, mode=Mode.PRIVATE)
    add(tpnwsethm_copy_12_tool1.solids().sort_by(Axis((7.575, 4.446224, 0), (0, 0, -1)))[0])

    # M4 Clearance Hole1 (through all)
    with Locations(Plane(origin=(0, 0, 0), x_dir=(-1, 0, 0), z_dir=(0, -1, 0))):
        with Locations((0, 0)):
            CounterSinkHole(M4_CLEARANCE_HOLE1_D / 2, M4_CLEARANCE_HOLE1_CSINK_D / 2, counter_sink_angle=M4_CLEARANCE_HOLE1_CSINK_ANGLE)


solid = part.part
